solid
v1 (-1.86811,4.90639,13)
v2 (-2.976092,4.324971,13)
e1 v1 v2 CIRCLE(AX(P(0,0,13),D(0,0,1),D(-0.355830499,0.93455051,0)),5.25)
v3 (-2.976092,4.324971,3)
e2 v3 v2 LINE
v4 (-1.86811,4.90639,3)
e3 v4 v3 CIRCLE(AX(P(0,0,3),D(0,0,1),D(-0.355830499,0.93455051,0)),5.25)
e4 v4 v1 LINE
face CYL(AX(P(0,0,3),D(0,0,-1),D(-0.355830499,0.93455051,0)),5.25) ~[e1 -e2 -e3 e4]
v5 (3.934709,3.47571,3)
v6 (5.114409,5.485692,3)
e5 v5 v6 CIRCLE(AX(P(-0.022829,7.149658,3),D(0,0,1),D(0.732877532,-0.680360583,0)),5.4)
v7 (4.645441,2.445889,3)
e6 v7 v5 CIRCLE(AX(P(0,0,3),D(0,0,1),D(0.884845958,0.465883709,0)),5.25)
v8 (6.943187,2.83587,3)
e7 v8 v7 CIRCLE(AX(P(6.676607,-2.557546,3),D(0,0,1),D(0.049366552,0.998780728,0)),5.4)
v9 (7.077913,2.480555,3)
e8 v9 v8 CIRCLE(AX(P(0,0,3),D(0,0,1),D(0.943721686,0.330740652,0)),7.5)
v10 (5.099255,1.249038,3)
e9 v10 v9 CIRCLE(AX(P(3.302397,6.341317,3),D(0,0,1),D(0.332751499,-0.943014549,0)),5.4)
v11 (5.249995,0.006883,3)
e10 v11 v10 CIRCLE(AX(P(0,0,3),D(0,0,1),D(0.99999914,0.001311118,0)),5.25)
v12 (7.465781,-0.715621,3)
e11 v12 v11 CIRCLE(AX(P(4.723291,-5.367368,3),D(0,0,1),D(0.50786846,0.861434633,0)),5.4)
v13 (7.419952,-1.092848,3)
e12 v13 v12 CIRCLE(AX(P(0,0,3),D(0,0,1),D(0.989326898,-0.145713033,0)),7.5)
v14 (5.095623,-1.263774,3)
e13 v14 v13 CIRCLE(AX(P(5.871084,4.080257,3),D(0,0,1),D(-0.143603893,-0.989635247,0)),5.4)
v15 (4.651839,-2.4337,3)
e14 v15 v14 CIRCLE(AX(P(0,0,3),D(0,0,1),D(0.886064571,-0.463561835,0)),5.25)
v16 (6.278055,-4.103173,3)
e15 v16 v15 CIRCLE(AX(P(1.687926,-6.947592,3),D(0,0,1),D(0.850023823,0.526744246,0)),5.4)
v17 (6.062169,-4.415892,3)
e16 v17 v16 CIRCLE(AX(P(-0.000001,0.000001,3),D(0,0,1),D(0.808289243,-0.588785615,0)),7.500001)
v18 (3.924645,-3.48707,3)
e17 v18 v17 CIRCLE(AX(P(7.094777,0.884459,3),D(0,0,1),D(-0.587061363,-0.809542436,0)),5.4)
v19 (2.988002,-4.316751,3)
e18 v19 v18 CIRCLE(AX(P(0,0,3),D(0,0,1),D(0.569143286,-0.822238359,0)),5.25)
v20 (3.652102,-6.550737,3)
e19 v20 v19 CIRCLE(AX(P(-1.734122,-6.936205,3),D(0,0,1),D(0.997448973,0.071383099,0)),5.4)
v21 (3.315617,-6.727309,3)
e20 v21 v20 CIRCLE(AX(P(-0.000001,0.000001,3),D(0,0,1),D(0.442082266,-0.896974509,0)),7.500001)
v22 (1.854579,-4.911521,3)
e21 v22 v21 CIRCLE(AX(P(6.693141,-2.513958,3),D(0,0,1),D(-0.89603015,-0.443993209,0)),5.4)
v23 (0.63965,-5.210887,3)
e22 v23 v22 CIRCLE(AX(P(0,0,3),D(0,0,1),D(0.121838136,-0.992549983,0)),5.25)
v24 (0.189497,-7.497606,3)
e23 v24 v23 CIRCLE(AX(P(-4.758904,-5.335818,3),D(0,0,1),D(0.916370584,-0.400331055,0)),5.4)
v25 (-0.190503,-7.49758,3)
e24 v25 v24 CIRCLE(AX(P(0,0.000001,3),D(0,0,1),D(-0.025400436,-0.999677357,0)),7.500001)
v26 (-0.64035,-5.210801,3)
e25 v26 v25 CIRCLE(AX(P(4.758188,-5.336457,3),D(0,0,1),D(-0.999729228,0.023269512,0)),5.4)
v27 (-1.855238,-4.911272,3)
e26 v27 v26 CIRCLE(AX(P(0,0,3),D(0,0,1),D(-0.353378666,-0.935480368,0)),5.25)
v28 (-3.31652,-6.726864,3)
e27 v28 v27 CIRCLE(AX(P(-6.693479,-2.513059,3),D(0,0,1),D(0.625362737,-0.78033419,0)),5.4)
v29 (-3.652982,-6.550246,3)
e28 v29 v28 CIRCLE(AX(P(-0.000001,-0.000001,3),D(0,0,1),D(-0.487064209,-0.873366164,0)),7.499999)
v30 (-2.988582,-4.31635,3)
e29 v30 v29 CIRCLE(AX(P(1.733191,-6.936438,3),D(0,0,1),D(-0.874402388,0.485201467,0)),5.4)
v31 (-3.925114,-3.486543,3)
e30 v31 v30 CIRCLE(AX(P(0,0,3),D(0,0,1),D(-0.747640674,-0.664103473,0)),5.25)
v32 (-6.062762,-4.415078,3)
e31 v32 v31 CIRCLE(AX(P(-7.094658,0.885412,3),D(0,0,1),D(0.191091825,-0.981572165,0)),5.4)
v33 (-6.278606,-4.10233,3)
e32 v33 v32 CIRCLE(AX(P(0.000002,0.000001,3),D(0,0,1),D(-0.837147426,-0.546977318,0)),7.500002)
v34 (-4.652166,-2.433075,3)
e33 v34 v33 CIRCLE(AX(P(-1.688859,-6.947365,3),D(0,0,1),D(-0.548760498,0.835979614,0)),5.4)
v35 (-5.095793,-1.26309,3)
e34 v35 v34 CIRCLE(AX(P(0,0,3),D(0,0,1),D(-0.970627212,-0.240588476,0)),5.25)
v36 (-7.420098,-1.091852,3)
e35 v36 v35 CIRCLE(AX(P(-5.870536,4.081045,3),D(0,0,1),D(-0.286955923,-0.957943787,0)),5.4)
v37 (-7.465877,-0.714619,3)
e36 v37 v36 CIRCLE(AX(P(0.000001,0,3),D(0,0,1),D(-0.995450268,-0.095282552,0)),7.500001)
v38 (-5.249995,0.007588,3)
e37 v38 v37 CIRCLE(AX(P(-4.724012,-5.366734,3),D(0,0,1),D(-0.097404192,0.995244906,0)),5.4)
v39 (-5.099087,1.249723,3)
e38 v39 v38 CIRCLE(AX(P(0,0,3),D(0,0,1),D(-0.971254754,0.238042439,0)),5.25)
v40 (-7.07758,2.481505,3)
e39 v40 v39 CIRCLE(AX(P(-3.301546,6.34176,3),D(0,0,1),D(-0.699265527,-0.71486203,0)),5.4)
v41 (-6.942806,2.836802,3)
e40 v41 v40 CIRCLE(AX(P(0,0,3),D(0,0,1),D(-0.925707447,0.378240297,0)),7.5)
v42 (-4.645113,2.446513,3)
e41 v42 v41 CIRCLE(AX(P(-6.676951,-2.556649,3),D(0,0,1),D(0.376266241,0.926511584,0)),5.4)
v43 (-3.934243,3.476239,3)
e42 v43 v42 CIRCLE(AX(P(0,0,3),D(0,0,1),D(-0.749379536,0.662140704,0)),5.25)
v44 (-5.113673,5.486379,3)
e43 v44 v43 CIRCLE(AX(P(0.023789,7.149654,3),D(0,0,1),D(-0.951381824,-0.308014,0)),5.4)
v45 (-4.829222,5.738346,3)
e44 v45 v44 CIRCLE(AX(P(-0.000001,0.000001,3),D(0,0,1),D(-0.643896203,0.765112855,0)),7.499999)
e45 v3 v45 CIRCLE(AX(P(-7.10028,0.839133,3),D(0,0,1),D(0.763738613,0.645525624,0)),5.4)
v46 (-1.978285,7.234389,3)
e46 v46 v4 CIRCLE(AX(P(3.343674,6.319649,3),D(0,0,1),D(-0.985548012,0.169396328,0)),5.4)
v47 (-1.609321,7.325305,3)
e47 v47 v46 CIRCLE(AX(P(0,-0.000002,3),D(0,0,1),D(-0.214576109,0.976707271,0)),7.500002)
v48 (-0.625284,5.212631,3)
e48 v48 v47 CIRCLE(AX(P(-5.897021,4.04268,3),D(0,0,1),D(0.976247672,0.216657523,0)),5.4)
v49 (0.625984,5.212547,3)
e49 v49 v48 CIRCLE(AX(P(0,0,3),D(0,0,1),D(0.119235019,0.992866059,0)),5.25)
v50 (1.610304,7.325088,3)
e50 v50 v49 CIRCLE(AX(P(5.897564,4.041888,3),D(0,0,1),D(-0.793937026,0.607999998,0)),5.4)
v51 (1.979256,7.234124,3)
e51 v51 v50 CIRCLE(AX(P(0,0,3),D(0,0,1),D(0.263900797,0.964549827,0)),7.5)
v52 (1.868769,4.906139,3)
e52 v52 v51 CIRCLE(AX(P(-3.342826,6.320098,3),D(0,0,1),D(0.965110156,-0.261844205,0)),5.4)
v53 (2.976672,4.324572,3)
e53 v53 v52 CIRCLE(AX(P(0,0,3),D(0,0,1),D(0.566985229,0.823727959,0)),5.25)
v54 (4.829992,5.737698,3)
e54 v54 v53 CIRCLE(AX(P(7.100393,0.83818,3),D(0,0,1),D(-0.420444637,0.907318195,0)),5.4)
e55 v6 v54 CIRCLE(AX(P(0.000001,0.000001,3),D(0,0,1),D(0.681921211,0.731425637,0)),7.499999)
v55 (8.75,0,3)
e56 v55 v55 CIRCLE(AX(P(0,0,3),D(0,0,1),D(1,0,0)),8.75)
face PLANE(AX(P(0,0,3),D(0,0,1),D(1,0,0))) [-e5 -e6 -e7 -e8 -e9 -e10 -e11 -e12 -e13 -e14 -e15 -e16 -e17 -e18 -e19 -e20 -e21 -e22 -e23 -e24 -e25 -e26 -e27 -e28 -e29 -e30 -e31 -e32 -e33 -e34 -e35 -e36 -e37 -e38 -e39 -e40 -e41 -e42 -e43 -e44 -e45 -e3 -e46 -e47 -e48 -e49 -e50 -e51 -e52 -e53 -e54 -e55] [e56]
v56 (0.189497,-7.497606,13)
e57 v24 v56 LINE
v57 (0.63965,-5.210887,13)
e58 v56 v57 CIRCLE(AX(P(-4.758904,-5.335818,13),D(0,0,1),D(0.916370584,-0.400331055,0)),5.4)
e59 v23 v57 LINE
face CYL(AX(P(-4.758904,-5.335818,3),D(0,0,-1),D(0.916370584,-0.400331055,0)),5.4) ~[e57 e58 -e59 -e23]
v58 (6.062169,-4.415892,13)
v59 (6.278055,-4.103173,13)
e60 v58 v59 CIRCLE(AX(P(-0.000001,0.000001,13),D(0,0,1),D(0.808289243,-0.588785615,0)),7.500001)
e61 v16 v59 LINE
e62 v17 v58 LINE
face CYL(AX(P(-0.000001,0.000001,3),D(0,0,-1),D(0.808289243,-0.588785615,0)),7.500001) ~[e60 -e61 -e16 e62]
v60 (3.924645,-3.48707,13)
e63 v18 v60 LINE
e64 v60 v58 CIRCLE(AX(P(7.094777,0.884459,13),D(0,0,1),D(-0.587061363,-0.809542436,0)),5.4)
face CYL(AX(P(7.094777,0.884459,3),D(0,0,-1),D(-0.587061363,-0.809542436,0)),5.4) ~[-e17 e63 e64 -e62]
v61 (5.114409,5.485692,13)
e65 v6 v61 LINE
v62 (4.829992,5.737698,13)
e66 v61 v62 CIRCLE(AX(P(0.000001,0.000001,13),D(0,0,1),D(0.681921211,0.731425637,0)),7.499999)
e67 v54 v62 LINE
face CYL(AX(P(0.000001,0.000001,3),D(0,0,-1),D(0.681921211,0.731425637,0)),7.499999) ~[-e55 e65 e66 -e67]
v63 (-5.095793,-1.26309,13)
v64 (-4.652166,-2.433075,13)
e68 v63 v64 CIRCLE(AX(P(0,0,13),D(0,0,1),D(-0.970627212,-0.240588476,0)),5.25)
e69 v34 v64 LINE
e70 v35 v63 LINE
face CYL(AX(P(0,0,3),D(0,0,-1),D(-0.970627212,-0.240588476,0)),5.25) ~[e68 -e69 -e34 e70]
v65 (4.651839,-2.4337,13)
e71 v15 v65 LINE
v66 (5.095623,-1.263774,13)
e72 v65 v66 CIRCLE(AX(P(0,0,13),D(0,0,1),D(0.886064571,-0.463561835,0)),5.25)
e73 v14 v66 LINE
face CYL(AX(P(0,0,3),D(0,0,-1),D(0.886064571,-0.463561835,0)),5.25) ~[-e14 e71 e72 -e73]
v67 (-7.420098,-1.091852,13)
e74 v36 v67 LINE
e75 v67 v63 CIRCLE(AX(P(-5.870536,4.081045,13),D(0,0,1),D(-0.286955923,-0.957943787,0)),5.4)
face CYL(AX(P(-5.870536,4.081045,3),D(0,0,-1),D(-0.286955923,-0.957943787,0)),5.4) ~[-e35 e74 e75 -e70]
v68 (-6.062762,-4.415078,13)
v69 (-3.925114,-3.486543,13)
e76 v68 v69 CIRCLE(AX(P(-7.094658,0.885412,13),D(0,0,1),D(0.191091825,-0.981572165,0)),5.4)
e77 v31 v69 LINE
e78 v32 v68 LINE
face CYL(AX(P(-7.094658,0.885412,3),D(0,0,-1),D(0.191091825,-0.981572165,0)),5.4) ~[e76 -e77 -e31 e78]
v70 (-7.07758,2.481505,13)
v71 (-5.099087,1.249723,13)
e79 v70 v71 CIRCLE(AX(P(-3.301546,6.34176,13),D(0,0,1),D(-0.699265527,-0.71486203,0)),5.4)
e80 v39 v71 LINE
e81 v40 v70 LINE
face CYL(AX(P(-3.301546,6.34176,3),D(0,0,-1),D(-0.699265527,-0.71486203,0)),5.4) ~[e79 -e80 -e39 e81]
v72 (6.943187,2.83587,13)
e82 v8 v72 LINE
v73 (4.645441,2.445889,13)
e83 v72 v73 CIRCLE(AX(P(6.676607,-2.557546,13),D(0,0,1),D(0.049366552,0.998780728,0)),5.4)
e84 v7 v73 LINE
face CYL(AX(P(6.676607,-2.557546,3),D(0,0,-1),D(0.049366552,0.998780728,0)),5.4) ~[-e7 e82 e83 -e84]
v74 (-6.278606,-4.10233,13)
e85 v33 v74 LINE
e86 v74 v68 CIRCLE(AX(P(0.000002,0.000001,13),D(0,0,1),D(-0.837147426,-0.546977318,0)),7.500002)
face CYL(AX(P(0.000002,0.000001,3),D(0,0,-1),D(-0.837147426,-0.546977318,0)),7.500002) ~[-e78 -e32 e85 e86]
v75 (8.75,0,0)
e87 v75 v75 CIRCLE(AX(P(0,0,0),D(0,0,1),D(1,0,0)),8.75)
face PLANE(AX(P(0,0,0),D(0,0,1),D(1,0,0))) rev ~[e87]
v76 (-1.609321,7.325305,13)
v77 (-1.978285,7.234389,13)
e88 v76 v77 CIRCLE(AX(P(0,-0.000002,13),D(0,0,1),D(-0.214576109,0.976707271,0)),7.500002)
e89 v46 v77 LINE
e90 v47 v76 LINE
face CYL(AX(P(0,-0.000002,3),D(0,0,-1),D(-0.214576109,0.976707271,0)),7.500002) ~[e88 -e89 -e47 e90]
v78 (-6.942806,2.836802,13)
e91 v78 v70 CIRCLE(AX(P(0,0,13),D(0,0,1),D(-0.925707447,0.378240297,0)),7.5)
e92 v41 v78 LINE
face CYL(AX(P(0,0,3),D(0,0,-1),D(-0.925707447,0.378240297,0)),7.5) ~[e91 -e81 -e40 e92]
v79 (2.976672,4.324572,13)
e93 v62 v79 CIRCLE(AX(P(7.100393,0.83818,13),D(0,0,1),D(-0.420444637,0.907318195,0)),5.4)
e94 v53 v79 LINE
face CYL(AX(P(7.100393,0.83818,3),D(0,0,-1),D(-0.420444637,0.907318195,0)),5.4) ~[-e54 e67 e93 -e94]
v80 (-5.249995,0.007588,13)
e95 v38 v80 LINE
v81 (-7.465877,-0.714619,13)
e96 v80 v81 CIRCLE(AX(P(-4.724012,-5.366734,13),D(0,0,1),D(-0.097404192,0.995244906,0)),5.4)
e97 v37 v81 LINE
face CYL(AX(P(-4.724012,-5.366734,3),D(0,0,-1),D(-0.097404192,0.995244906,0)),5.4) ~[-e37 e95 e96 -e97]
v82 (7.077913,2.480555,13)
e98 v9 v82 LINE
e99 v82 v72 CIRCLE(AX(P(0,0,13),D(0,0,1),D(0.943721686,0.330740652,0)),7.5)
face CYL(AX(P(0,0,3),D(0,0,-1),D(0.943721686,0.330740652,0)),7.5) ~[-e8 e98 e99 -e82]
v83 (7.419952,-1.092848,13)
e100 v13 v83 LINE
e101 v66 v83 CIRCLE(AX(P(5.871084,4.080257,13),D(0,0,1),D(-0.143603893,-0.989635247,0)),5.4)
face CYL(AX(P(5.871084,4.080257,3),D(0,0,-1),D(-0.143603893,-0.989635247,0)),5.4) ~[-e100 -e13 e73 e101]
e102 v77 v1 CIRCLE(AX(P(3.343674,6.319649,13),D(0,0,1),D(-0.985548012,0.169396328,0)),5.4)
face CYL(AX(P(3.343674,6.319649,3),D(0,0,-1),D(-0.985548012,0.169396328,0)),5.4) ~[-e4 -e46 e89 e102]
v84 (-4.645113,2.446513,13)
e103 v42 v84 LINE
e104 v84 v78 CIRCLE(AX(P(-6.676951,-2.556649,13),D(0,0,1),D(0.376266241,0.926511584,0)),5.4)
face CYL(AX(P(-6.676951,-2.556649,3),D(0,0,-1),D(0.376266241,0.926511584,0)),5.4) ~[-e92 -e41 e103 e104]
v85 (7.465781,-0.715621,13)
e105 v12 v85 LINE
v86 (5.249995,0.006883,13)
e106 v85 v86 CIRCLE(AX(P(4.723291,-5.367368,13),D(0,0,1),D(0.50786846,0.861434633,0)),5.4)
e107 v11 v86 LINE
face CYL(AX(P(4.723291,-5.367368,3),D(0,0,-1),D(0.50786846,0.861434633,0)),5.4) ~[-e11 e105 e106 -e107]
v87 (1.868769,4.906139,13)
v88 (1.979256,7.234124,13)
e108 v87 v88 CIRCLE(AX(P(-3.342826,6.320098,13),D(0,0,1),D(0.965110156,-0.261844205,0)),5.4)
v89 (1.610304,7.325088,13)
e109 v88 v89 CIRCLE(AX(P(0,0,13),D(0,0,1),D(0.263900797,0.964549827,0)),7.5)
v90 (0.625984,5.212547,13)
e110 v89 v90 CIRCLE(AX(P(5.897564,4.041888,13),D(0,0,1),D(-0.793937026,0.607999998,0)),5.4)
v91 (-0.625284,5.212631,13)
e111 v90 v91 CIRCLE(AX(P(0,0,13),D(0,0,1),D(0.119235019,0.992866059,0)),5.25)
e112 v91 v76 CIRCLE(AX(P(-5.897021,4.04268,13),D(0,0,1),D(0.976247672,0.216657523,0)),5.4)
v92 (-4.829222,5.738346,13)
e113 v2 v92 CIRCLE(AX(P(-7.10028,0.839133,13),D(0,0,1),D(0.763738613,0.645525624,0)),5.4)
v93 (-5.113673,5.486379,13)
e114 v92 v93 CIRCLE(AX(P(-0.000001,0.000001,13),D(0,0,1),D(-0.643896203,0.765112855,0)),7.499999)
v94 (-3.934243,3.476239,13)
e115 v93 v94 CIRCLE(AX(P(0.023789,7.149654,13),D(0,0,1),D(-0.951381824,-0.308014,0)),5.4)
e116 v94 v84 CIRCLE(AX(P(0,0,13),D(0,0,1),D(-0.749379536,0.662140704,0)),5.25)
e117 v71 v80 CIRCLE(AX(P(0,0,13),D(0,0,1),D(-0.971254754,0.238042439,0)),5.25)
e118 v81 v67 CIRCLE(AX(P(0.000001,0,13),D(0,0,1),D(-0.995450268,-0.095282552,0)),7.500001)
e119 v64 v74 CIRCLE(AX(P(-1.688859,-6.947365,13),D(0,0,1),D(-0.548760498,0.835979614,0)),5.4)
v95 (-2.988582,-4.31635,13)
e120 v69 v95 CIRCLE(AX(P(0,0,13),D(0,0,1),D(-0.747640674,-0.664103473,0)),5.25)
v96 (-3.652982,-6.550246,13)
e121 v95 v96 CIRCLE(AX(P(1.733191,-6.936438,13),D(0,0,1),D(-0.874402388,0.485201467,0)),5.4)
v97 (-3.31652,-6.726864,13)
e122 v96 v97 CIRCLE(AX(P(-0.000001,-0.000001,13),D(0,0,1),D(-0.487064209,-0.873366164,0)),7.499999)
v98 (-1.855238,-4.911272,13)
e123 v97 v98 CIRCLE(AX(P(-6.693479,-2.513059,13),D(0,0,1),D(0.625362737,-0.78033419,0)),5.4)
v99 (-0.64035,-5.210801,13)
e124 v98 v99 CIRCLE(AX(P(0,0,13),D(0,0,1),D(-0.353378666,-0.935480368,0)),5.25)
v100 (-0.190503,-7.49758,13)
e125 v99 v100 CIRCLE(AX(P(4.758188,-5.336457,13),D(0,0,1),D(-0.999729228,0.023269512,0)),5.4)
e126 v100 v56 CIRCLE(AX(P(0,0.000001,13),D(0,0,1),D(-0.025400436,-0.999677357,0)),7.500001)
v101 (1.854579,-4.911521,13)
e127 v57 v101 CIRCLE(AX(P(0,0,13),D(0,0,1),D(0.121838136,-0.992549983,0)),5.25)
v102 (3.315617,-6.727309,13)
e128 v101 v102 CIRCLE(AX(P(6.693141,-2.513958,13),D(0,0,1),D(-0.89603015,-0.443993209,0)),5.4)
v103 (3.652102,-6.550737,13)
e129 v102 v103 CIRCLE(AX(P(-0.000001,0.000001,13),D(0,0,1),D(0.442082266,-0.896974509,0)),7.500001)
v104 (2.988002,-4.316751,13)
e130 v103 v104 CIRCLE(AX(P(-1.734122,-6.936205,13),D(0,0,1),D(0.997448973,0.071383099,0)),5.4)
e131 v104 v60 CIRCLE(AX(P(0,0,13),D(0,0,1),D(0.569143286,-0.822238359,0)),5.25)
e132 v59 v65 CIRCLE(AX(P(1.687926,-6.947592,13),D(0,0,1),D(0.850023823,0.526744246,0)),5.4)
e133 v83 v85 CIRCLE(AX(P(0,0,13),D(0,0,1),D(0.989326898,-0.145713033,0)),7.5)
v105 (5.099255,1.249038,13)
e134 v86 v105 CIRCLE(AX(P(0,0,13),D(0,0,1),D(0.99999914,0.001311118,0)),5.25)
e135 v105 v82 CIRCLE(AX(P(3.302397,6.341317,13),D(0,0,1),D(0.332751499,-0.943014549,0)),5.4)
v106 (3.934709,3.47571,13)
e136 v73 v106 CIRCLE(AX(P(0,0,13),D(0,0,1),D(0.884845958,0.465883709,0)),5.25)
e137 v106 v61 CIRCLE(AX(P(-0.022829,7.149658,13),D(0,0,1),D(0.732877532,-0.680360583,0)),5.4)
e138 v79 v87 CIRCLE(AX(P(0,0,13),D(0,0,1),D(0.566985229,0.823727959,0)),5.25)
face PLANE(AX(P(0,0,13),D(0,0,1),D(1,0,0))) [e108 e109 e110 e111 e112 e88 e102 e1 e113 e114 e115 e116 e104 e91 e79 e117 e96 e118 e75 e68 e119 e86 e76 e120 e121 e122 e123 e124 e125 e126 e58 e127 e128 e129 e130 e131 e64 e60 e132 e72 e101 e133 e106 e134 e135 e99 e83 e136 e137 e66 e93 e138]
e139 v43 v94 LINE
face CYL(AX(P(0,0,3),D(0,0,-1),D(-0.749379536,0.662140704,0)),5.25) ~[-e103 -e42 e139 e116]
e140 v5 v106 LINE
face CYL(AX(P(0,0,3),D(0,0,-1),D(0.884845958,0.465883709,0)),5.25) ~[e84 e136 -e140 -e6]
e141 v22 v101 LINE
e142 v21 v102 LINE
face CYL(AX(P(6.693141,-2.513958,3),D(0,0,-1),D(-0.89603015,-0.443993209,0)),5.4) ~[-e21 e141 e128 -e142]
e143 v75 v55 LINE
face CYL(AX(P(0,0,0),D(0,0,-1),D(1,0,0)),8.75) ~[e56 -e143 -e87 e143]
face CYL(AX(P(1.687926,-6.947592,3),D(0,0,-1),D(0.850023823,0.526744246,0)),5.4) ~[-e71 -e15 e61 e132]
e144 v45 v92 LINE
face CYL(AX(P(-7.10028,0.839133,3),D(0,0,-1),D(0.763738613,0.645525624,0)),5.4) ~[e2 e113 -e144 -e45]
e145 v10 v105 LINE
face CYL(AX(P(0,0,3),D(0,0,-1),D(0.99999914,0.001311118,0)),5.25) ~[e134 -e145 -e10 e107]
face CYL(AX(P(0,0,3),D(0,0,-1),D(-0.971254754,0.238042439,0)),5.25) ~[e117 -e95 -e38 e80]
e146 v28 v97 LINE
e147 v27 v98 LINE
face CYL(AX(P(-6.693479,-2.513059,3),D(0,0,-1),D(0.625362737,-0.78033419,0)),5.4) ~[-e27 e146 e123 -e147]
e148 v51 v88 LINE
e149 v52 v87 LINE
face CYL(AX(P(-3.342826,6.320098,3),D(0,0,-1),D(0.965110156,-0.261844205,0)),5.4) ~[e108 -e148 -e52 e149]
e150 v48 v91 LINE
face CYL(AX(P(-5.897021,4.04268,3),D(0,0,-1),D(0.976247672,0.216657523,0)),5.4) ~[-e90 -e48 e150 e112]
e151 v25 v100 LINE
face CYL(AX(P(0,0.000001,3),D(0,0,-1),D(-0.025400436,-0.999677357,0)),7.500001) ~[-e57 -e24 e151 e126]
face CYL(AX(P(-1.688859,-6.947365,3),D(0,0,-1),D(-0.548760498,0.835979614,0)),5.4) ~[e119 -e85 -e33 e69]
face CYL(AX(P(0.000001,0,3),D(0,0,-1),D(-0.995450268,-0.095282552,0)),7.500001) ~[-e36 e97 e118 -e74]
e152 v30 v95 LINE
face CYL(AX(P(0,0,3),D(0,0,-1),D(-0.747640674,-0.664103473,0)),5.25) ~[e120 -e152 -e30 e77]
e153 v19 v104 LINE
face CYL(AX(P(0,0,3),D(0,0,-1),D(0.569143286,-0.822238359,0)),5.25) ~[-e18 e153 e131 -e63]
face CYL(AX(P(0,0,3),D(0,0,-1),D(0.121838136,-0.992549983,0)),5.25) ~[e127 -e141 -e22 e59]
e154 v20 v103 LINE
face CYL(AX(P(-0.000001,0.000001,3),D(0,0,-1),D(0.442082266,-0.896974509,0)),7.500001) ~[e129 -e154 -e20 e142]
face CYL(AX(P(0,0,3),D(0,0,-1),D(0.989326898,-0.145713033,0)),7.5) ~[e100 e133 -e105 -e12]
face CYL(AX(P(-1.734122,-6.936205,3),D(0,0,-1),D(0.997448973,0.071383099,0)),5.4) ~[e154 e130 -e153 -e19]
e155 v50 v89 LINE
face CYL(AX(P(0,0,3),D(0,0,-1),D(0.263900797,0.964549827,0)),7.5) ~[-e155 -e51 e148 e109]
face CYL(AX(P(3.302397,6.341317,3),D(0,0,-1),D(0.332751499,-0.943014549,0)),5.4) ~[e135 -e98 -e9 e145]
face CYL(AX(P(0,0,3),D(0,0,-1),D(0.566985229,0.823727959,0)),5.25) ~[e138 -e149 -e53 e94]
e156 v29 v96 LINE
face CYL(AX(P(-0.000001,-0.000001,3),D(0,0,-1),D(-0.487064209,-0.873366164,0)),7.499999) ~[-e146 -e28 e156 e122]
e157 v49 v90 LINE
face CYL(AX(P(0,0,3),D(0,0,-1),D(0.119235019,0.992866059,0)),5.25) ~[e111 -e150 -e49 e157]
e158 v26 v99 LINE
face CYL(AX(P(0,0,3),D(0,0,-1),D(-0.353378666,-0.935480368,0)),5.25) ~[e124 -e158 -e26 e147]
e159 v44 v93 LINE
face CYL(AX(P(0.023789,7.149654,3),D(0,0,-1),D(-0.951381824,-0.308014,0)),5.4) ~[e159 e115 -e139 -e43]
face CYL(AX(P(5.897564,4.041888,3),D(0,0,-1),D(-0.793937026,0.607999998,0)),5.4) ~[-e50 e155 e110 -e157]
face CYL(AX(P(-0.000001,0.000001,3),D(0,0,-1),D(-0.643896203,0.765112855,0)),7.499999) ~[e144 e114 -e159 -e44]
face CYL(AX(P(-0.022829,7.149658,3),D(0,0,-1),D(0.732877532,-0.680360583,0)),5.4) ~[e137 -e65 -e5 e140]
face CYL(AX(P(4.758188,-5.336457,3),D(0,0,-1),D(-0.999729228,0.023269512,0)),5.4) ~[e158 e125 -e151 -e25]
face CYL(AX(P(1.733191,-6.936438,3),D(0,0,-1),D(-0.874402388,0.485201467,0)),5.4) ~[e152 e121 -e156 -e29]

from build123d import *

# Parameters (mm, degrees)
SKETCH1_R           = 8.75
BOSS_EXTRUDE1_DEPTH = 3
BOSS_EXTRUDE2_DEPTH = 10


with BuildPart() as part:
    # Sketch1 → Boss-Extrude1 (new body)
    with BuildSketch(Plane.XY):
        Circle(SKETCH1_R)
    extrude(amount=BOSS_EXTRUDE1_DEPTH)

    # Sketch2 → Boss-Extrude2 (add)
    with BuildSketch(Plane.XY.offset(3)):
        with BuildLine():
            ThreePointArc((4.829991895, 5.737697996), (3.826186326, 5.132311911), (2.976672459, 4.324571779))
            ThreePointArc((2.976672459, 4.324571779), (2.440108702, 4.648480345), (1.868768811, 4.906139331))
            ThreePointArc((1.868768811, 4.906139331), (2.051102492, 6.064099762), (1.979255999, 7.234123699))
            ThreePointArc((1.979255999, 7.234123699), (1.795356309, 7.281943128), (1.610304214, 7.325088418))
            ThreePointArc((1.610304214, 7.325088418), (1.002815466, 6.322553954), (0.62598385, 5.212546807))
            ThreePointArc((0.62598385, 5.212546807), (0.000352422, 5.249999988), (-0.625284028, 5.212630803))
            ThreePointArc((-0.625284028, 5.212630803), (-1.001966616, 6.322688531), (-1.609320762, 7.325304546))
            ThreePointArc((-1.609320762, 7.325304546), (-1.794378647, 7.2821841), (-1.978284756, 7.234389361))
            ThreePointArc((-1.978284756, 7.234389361), (-2.050288332, 6.06437508), (-1.868110115, 4.90639018))
            ThreePointArc((-1.868110115, 4.90639018), (-2.439484593, 4.648807903), (-2.976091832, 4.324971377))
            ThreePointArc((-2.976091832, 4.324971377), (-3.825497247, 5.132825554), (-4.82922153, 5.738346401))
            ThreePointArc((-4.82922153, 5.738346401), (-4.97304308, 5.614164455), (-5.113672529, 5.486378884))
            ThreePointArc((-5.113672529, 5.486378884), (-4.633695781, 4.41692096), (-3.934242565, 3.476238691))
            ThreePointArc((-3.934242565, 3.476238691), (-4.320465088, 2.982629951), (-4.645112863, 2.44651313))
            ThreePointArc((-4.645112863, 2.44651313), (-5.772652562, 2.7670941), (-6.942805845, 2.83680225))
            ThreePointArc((-6.942805845, 2.83680225), (-7.012443275, 2.66000739), (-7.077579552, 2.481505124))
            ThreePointArc((-7.077579552, 2.481505124), (-6.15557937, 1.757603477), (-5.099087457, 1.249722811))
            ThreePointArc((-5.099087457, 1.249722811), (-5.211679097, 0.633167423), (-5.249994516, 0.007588209))
            ThreePointArc((-5.249994516, 0.007588209), (-6.397362742, -0.232545265), (-7.46587701, -0.71461911))
            ThreePointArc((-7.46587701, -0.71461911), (-7.445377224, -0.90352531), (-7.420098394, -1.091851556))
            ThreePointArc((-7.420098394, -1.091851556), (-6.267293907, -1.304359781), (-5.095792863, -1.263089504))
            ThreePointArc((-5.095792863, -1.263089504), (-4.908960234, -1.861346132), (-4.652165695, -2.43307508))
            ThreePointArc((-4.652165695, -2.43307508), (-5.556514215, -3.178911313), (-6.278605726, -4.102329843))
            ThreePointArc((-6.278605726, -4.102329843), (-6.172664978, -4.260071251), (-6.062762116, -4.415078202))
            ThreePointArc((-6.062762116, -4.415078202), (-4.94324694, -4.067509932), (-3.925113535, -3.486543236))
            ThreePointArc((-3.925113535, -3.486543236), (-3.48165774, -3.92944772), (-2.988581778, -4.316350189))
            ThreePointArc((-2.988581778, -4.316350189), (-3.442735244, -5.397027088), (-3.652981535, -6.550246247))
            ThreePointArc((-3.652981535, -6.550246247), (-3.485869574, -6.640686208), (-3.316520101, -6.726863639))
            ThreePointArc((-3.316520101, -6.726863639), (-2.486761671, -5.898842577), (-1.855237999, -4.91127193))
            ThreePointArc((-1.855237999, -4.91127193), (-1.256749416, -5.09736019), (-0.640349792, -5.210801488))
            ThreePointArc((-0.640349792, -5.210801488), (-0.540267119, -6.378748999), (-0.190503298, -7.497580176))
            ThreePointArc((-0.190503298, -7.497580176), (-0.00050346, -7.499999983), (0.189496701, -7.497605685))
            ThreePointArc((0.189496701, -7.497605685), (0.539410728, -6.378821476), (0.639650205, -5.210887412))
            ThreePointArc((0.639650205, -5.210887412), (1.256065053, -5.09752887), (1.854578614, -4.911520962))
            ThreePointArc((1.854578614, -4.911520962), (2.485969693, -5.899176387), (3.315616949, -6.727308842))
            ThreePointArc((3.315616949, -6.727308842), (3.48497799, -6.641154147), (3.652102092, -6.550736623))
            ThreePointArc((3.652102092, -6.550736623), (3.44201063, -5.397489248), (2.988002255, -4.316751385))
            ThreePointArc((2.988002255, -4.316751385), (3.481130156, -3.929915118), (3.92464541, -3.487070175))
            ThreePointArc((3.92464541, -3.487070175), (4.942700807, -4.068173557), (6.06216931, -4.415892125))
            ThreePointArc((6.06216931, -4.415892125), (6.172092982, -4.260899931), (6.278054907, -4.103172747))
            ThreePointArc((6.278054907, -4.103172747), (5.556087377, -3.17965728), (4.651838998, -2.433699639))
            ThreePointArc((4.651838998, -2.433699639), (4.908710292, -1.862005173), (5.09562324, -1.263773634))
            ThreePointArc((5.09562324, -1.263773634), (6.267118732, -1.305201192), (7.41995174, -1.092847739))
            ThreePointArc((7.41995174, -1.092847739), (7.445255854, -0.904524889), (7.465781001, -0.715621443))
            ThreePointArc((7.465781001, -0.715621443), (6.397331464, -0.233404148), (5.249995488, 0.006883365))
            ThreePointArc((5.249995488, 0.006883365), (5.211764057, 0.632467717), (5.099255194, 1.249038216))
            ThreePointArc((5.099255194, 1.249038216), (6.155815283, 1.756777037), (7.077912646, 2.480554893))
            ThreePointArc((7.077912646, 2.480554893), (7.012800334, 2.659065903), (6.94318664, 2.83587011))
            ThreePointArc((6.94318664, 2.83587011), (5.773024009, 2.766319061), (4.64544128, 2.445889473))
            ThreePointArc((4.64544128, 2.445889473), (4.320865485, 2.982049876), (3.934709236, 3.475710464))
            ThreePointArc((3.934709236, 3.475710464), (4.634288738, 4.416298818), (5.114409063, 5.485692293))
            ThreePointArc((5.114409063, 5.485692293), (4.973796771, 5.613496743), (4.829991895, 5.737697996))
        make_face()
    extrude(amount=BOSS_EXTRUDE2_DEPTH)


solid = part.part
